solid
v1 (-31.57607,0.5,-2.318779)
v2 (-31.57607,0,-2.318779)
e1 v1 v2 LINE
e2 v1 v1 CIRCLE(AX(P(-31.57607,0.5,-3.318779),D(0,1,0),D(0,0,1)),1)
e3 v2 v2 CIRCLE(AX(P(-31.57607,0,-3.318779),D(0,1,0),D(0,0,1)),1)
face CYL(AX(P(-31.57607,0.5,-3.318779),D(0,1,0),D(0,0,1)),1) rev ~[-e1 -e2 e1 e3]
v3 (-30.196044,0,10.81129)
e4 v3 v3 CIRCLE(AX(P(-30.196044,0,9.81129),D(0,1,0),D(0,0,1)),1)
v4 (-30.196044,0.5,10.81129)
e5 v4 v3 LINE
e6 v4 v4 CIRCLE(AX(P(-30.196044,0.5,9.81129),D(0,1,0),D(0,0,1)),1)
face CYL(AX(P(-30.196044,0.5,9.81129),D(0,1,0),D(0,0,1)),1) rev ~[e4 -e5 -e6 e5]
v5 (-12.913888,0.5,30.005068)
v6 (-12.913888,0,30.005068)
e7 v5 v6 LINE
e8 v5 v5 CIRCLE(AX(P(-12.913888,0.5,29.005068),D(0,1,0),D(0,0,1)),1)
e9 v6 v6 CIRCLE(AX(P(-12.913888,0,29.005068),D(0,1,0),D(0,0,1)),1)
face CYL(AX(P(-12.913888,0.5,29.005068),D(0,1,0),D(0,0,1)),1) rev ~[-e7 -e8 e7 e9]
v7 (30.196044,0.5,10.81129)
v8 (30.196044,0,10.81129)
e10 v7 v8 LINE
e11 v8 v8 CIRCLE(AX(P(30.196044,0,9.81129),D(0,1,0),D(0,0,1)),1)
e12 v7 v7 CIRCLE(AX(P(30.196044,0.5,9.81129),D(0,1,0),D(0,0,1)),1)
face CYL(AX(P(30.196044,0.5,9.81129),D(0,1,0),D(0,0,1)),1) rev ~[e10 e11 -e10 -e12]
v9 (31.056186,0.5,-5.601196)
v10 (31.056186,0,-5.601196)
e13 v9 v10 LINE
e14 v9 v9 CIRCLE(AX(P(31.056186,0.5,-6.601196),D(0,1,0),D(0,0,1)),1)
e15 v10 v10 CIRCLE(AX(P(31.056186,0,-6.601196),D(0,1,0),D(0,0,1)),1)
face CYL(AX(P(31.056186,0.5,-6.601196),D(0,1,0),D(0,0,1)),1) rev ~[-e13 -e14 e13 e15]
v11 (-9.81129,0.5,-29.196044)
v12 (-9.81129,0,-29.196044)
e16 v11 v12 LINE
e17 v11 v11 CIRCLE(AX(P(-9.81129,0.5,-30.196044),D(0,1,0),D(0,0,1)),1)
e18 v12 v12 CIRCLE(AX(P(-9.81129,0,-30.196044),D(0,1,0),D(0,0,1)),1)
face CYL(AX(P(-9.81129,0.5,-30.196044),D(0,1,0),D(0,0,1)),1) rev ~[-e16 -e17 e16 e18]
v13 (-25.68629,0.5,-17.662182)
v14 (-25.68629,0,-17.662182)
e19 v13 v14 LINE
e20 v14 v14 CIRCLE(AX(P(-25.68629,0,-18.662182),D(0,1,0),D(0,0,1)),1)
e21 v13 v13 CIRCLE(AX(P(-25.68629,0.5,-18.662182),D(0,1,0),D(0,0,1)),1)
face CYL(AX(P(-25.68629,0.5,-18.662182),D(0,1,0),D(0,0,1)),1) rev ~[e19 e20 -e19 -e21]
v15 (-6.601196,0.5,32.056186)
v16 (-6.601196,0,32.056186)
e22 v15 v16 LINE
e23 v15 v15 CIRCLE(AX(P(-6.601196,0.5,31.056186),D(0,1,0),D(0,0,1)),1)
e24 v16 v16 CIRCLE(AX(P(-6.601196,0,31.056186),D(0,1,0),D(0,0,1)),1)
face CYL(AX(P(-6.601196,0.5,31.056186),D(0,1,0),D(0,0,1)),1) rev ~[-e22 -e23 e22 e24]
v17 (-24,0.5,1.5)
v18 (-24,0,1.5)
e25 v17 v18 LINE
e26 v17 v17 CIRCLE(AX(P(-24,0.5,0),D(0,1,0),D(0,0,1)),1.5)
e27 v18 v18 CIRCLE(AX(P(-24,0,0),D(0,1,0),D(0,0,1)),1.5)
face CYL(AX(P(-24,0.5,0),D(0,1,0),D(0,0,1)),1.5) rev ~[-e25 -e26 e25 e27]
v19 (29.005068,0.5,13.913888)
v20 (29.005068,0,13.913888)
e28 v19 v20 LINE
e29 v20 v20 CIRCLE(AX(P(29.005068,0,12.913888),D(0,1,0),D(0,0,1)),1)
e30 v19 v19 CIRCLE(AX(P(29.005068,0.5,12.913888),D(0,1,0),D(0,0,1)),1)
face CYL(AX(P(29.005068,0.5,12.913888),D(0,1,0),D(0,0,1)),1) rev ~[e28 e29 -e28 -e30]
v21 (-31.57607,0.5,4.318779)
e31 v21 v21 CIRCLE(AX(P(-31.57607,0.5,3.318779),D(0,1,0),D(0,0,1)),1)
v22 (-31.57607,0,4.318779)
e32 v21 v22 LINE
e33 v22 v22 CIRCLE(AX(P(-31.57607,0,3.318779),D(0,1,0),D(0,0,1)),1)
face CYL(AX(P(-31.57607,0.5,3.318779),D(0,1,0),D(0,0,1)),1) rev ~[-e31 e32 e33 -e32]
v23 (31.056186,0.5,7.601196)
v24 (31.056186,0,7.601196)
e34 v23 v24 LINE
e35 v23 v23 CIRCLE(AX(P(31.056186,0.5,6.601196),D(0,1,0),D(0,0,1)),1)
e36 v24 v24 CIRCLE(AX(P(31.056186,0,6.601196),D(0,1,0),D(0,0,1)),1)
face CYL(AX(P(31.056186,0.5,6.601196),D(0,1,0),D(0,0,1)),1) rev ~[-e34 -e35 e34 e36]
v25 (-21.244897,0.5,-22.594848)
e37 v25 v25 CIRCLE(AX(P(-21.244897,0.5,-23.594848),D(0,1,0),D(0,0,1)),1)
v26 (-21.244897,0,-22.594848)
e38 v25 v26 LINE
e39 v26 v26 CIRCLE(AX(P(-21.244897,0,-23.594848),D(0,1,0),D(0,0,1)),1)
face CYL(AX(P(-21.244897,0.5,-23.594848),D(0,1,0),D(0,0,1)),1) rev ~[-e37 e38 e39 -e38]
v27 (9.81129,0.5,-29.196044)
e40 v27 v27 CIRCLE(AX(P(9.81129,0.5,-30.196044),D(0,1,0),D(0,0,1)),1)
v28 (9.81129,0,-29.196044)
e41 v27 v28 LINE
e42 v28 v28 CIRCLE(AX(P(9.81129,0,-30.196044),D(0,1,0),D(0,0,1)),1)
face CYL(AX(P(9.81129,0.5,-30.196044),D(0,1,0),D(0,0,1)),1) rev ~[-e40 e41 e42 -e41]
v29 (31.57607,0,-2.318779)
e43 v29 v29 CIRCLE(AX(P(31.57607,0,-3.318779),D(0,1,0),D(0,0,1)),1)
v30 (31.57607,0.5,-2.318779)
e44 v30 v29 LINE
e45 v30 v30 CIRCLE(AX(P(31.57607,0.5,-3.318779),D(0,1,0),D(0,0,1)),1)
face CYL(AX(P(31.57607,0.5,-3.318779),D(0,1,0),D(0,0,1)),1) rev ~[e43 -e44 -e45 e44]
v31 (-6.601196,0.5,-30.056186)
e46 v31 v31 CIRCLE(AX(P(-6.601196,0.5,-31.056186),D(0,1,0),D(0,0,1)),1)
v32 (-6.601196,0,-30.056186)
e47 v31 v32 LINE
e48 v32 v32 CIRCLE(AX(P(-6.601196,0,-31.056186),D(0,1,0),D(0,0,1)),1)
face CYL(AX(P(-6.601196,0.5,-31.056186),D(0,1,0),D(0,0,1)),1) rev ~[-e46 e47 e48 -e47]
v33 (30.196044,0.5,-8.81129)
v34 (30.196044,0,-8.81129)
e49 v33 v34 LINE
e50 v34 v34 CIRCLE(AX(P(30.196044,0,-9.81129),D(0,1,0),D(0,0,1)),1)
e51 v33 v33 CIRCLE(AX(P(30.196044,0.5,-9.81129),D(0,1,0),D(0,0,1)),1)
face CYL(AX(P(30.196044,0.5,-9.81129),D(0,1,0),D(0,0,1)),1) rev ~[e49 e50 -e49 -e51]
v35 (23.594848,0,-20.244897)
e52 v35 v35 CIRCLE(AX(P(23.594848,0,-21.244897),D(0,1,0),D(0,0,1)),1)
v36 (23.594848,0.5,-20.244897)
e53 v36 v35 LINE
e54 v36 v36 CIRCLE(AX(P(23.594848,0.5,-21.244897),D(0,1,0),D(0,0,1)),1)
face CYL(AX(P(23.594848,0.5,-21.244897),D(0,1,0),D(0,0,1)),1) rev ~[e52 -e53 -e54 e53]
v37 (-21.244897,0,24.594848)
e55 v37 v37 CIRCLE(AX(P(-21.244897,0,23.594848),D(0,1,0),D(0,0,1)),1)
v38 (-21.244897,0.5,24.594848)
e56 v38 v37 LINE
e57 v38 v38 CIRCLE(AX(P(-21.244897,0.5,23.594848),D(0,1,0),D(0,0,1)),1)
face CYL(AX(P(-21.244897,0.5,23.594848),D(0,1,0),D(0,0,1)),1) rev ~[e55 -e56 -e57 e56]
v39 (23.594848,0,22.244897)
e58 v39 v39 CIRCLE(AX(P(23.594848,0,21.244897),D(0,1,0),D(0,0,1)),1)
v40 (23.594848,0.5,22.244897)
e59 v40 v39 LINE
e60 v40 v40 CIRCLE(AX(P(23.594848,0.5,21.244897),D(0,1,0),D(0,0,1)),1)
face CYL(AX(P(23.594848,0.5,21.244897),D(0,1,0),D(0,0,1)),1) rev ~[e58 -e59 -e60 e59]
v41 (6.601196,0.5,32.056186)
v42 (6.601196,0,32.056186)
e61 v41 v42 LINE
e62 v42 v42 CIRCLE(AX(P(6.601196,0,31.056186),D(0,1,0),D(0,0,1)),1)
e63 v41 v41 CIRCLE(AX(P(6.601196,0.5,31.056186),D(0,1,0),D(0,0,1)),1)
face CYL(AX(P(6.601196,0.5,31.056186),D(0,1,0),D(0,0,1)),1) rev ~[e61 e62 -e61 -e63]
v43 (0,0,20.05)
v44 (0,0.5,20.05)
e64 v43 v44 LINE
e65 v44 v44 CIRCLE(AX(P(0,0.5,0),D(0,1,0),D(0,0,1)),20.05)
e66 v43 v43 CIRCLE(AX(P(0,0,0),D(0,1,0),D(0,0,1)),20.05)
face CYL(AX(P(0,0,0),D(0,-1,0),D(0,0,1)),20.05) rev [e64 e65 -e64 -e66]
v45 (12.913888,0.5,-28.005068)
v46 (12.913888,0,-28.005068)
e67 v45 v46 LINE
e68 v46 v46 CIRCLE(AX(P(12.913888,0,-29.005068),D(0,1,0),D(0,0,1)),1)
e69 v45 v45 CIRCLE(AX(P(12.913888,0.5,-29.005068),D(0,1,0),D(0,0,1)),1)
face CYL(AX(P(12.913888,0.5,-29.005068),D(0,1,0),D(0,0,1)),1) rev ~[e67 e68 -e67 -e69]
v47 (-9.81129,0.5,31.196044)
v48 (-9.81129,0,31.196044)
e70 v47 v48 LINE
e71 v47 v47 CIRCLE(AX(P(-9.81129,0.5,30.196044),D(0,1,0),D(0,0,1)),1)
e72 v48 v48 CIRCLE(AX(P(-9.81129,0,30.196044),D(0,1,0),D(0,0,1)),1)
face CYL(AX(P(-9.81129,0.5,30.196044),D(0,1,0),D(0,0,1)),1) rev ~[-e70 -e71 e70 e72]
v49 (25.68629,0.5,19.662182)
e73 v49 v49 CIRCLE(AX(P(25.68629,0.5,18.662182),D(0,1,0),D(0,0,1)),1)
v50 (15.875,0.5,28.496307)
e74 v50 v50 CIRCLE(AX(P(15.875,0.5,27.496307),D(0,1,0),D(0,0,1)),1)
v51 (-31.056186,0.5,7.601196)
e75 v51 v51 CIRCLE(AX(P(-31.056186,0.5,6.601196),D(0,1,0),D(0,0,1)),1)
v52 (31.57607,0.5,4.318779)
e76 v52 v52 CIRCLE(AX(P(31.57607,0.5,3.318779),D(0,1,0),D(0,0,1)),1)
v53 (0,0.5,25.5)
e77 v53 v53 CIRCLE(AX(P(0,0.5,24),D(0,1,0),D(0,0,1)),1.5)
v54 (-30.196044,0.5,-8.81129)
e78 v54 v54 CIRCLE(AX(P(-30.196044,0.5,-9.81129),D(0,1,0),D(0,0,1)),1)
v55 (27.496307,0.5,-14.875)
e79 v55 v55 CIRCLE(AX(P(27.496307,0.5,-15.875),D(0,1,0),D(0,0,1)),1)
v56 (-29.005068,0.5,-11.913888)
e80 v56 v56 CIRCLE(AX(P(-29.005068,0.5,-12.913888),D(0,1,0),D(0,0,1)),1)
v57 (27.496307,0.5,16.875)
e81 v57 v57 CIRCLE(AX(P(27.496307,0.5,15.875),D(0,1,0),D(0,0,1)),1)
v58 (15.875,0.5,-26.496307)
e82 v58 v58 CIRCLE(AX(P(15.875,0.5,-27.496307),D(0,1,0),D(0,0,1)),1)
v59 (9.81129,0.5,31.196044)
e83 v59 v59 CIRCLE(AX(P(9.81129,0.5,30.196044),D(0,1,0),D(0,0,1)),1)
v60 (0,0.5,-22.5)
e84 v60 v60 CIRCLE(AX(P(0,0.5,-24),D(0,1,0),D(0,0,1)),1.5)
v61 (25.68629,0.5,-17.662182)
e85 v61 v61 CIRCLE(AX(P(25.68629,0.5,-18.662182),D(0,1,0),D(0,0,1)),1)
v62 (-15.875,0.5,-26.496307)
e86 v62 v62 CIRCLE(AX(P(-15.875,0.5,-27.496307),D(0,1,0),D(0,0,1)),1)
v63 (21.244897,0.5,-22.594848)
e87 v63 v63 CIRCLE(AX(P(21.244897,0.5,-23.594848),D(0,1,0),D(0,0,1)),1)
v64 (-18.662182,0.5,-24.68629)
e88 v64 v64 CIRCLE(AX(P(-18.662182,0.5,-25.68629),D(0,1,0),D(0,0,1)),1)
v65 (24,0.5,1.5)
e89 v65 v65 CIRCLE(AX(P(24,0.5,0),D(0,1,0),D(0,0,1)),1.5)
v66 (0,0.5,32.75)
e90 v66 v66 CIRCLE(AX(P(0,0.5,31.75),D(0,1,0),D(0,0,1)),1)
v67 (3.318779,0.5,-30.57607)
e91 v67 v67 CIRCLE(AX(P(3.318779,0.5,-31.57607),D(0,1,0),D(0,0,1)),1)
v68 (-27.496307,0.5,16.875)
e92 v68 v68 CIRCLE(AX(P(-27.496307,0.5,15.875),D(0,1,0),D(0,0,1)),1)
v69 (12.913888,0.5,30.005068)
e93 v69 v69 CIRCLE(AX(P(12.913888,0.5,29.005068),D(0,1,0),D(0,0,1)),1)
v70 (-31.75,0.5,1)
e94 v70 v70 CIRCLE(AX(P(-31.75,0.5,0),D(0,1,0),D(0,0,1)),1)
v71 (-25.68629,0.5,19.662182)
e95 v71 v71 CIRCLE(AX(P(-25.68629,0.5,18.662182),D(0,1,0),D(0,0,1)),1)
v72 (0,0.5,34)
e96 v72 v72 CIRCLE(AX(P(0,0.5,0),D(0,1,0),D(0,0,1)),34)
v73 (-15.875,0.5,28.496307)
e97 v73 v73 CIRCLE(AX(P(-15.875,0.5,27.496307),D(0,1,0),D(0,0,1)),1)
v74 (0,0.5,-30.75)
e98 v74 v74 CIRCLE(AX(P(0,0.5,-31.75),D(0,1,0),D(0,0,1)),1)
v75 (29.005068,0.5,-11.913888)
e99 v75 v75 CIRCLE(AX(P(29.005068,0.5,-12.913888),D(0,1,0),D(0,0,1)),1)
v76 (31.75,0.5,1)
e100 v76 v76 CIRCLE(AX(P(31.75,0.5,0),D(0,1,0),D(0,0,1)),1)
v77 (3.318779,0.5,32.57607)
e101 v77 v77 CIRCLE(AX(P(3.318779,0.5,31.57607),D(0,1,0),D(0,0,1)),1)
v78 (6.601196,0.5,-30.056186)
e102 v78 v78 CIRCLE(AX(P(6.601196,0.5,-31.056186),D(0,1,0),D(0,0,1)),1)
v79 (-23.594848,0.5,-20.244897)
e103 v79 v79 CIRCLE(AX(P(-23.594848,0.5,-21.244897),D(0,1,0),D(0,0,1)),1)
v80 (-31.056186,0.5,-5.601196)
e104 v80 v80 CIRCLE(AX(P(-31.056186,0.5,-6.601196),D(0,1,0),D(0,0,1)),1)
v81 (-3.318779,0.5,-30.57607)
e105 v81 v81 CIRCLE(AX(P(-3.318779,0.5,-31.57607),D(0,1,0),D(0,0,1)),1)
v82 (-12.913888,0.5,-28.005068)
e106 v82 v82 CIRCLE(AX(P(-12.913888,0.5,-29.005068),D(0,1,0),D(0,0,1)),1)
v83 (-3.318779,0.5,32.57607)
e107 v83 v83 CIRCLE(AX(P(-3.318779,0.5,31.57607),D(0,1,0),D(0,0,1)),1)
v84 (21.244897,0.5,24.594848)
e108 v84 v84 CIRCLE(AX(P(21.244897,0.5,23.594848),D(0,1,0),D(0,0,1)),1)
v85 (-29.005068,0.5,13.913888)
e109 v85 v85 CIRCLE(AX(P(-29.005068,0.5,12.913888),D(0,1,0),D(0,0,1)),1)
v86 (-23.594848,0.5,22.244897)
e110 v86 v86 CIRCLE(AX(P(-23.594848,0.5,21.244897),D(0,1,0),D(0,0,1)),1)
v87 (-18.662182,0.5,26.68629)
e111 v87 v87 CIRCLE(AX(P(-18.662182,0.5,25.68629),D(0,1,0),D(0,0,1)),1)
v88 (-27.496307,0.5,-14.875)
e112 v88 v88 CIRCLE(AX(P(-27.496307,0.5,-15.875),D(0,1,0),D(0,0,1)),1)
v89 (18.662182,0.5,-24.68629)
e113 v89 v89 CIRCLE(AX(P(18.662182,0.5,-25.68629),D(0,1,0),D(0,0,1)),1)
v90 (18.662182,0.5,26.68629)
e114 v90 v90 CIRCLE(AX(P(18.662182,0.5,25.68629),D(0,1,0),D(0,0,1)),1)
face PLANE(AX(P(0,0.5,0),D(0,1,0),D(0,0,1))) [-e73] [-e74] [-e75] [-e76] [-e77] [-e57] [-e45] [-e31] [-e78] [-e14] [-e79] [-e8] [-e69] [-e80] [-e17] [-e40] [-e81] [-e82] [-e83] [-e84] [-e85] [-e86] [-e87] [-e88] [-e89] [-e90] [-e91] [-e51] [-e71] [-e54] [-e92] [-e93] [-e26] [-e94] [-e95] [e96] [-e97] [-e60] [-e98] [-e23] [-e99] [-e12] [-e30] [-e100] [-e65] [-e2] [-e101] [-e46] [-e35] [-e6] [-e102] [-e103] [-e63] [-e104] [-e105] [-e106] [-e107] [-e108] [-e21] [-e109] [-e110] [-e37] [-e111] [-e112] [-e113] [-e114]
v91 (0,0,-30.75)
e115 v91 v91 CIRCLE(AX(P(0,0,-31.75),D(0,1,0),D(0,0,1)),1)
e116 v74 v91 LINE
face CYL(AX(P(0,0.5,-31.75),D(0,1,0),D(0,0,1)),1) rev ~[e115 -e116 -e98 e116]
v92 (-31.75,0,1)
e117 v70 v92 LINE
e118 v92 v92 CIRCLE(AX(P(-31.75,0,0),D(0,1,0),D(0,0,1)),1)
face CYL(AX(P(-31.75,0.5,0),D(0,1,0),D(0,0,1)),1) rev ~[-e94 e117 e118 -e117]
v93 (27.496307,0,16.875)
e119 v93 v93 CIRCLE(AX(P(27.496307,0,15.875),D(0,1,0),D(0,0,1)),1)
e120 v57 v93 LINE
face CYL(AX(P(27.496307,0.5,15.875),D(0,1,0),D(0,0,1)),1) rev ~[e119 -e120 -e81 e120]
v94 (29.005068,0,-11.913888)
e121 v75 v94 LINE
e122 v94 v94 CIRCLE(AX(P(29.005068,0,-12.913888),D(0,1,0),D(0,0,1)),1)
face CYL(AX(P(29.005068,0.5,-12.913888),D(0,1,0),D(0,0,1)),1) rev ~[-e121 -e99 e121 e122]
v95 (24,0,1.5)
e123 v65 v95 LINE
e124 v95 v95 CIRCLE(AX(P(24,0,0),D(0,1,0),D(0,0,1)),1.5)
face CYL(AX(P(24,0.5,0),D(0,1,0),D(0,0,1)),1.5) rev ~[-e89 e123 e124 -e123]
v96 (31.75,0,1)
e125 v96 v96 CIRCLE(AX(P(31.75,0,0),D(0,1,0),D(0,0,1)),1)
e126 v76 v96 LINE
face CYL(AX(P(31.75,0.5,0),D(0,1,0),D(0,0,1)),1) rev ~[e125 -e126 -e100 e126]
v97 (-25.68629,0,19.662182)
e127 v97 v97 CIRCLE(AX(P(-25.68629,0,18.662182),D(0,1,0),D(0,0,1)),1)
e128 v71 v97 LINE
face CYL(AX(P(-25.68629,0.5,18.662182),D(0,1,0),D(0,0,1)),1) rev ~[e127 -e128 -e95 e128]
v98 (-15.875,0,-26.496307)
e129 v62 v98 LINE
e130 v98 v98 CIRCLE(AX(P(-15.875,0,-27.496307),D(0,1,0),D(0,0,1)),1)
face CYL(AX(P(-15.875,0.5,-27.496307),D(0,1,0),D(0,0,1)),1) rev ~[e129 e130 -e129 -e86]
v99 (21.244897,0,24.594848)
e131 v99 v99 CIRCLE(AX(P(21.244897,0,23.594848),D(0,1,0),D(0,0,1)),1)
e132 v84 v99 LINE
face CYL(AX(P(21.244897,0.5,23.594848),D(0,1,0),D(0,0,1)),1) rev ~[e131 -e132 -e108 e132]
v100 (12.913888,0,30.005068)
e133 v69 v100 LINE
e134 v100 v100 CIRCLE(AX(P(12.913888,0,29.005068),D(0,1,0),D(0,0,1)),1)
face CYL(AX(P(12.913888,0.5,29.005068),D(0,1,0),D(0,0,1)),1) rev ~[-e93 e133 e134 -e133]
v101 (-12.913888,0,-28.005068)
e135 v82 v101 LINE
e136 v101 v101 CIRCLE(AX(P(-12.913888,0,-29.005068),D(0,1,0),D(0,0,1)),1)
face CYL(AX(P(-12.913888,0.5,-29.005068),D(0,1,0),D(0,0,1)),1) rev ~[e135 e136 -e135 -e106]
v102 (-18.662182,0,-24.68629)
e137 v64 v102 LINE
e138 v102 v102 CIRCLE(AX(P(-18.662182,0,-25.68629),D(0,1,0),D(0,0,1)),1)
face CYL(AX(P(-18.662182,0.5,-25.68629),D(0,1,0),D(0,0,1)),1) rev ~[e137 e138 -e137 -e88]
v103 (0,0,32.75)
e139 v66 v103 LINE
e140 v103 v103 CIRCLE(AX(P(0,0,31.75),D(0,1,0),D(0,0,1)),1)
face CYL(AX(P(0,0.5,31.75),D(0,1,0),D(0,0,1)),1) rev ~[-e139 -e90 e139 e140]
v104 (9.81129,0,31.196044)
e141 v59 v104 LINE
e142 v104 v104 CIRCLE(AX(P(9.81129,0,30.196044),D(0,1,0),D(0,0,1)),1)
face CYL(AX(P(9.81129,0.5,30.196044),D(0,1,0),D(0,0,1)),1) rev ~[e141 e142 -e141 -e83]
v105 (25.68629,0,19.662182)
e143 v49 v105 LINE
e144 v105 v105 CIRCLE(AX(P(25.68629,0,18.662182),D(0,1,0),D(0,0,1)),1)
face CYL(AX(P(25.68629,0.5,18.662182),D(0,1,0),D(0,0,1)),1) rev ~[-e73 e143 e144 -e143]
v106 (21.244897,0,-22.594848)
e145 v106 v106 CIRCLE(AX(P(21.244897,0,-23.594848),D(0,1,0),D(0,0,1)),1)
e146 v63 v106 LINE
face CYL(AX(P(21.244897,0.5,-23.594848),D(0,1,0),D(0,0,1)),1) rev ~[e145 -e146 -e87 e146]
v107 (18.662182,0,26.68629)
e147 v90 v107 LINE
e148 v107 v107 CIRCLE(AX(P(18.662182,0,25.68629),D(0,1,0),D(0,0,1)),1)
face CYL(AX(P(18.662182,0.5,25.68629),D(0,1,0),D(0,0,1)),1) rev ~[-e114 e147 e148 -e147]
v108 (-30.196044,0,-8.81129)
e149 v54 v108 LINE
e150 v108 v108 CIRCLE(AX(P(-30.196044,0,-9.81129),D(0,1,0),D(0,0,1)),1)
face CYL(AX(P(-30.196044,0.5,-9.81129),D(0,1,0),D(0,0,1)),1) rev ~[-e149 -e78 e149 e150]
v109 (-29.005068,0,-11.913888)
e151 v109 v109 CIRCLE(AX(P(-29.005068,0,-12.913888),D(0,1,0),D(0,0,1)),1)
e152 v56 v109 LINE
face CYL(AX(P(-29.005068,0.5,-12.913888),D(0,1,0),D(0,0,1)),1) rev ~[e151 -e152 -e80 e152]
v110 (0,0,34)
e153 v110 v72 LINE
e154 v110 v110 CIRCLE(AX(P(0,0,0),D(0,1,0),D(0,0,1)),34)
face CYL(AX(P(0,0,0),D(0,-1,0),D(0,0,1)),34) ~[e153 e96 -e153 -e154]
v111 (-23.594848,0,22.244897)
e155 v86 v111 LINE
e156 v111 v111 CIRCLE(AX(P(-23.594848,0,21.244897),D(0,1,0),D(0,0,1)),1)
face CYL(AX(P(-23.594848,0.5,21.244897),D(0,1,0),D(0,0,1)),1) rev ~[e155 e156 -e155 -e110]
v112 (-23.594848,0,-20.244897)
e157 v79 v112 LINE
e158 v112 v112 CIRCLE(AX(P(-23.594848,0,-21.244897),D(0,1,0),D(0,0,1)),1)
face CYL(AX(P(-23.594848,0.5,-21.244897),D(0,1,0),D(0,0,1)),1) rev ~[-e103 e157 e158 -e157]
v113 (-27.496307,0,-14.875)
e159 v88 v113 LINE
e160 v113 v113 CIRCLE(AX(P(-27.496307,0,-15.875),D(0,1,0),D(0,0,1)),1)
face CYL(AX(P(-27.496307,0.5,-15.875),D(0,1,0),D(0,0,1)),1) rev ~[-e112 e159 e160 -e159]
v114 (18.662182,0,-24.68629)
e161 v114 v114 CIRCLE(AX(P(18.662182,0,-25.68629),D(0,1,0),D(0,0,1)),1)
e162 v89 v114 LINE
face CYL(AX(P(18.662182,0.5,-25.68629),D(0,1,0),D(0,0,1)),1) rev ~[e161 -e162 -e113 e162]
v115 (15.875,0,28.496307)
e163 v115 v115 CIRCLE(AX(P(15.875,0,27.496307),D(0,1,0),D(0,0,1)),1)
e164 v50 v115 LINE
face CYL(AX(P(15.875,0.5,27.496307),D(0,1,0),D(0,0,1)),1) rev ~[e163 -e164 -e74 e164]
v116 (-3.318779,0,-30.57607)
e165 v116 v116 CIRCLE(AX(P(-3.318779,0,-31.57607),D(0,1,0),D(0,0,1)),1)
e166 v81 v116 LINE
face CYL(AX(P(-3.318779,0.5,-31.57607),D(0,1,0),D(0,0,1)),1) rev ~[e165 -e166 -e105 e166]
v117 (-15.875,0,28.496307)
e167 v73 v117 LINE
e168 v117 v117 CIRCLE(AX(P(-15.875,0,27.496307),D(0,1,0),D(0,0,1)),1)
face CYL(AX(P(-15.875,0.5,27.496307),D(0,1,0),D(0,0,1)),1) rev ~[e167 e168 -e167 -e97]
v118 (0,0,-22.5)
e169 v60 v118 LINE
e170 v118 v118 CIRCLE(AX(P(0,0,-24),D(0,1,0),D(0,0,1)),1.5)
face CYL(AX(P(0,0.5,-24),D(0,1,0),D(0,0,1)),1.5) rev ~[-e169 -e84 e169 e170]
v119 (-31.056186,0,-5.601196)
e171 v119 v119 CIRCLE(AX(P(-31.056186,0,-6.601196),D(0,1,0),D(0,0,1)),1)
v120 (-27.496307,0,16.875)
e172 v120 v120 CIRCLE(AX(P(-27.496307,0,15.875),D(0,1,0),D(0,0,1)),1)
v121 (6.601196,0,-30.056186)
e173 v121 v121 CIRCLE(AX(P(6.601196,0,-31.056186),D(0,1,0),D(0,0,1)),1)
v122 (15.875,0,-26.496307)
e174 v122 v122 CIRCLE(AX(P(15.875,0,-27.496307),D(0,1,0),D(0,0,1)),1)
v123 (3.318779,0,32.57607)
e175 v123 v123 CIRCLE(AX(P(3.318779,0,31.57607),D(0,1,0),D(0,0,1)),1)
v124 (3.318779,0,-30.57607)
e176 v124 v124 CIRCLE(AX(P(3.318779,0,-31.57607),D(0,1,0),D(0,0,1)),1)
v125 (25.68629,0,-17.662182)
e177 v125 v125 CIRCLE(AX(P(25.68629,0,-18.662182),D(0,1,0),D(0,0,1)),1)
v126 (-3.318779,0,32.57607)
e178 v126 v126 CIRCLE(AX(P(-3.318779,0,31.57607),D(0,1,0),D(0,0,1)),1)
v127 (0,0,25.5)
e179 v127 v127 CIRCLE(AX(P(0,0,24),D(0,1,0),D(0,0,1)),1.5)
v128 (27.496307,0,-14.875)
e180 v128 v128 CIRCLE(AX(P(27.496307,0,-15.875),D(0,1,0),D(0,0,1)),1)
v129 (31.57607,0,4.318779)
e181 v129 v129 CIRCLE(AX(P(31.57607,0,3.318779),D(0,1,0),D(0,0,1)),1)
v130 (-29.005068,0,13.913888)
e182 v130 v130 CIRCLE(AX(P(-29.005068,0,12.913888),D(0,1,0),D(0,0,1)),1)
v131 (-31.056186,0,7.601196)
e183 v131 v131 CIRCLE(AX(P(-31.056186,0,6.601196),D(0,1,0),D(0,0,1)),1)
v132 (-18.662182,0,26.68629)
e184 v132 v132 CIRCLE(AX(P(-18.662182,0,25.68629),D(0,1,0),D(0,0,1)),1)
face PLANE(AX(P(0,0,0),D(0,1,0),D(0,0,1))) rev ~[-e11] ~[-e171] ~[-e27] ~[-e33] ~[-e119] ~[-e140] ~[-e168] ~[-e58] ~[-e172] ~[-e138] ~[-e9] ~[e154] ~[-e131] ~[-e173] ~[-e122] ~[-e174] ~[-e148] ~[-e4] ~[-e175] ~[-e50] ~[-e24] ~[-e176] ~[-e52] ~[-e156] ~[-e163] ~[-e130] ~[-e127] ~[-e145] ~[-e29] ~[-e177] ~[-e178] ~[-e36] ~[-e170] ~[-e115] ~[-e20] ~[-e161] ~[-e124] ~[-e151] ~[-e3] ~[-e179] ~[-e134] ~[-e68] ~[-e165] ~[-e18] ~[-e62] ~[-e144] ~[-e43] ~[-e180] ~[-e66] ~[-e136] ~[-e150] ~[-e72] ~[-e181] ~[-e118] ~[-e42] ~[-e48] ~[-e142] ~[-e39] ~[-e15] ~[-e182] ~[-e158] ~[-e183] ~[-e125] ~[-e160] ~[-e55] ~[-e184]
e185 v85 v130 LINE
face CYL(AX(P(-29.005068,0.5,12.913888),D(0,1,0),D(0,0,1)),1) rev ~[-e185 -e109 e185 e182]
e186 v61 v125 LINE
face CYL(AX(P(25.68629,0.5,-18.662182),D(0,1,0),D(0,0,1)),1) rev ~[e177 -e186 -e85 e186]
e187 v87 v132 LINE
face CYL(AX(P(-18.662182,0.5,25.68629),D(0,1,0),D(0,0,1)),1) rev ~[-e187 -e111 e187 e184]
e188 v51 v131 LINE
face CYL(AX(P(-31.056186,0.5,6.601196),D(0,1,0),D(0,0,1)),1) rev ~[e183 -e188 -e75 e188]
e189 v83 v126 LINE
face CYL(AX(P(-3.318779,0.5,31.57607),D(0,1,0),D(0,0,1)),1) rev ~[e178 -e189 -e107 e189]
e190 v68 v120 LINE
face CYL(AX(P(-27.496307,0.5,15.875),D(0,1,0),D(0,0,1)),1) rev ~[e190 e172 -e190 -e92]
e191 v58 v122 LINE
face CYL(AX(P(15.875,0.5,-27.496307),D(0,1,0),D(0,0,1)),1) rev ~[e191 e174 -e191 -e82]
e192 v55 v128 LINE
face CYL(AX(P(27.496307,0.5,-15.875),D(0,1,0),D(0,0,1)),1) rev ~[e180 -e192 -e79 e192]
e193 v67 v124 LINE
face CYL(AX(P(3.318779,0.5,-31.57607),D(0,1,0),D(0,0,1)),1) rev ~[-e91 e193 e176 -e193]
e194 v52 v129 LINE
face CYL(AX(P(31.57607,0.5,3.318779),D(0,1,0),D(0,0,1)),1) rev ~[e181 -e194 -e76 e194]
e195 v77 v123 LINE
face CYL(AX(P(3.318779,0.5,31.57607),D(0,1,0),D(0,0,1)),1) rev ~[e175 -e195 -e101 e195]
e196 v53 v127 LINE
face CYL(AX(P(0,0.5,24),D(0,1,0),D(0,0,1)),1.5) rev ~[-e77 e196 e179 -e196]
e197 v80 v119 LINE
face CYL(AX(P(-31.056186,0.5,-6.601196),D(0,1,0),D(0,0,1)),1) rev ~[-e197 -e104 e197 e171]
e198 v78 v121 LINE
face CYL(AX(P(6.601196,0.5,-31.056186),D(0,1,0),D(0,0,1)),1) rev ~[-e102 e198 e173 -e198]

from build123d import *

# Parameters (mm, degrees)
SKETCH1_R           = 34
SKETCH1_R_2         = 20.05
BOSS_EXTRUDE1_DEPTH = 0.5
SKETCH2_R           = 1
CUT_EXTRUDE1_DEPTH  = 49.085860708
SKETCH3_R           = 1.5
CUT_EXTRUDE2_DEPTH  = 10


with BuildPart() as part:
    # Sketch1 → Boss-Extrude1 (new body)
    with BuildSketch(Plane(origin=(0, 0, 0), x_dir=(1, 0, 0), z_dir=(0, 1, 0))):
        with Locations(Location((0, 0, 0), (0, 0, 270))):
            Circle(SKETCH1_R)
        with Locations(Location((0, 0, 0), (0, 0, 270))):
            Circle(SKETCH1_R_2, mode=Mode.SUBTRACT)
    extrude(amount=BOSS_EXTRUDE1_DEPTH)

    # Sketch2 → Cut-Extrude1 (cut, through all)
    with BuildSketch(Plane(origin=(0, 0.5, 0), x_dir=(1, 0, 0), z_dir=(0, 1, 0))):
        with Locations(Location((0, 31.75, 0), (0, 0, 270))):
            Circle(SKETCH2_R)
        with Locations(Location((3.318778709, 31.576070178, 0), (0, 0, 270))):
            Circle(SKETCH2_R)
        with Locations(Location((6.601196183, 31.056186323, 0), (0, 0, 270))):
            Circle(SKETCH2_R)
        with Locations(Location((9.811289571, 30.196044392, 0), (0, 0, 270))):
            Circle(SKETCH2_R)
        with Locations(Location((12.913888418, 29.00506828, 0), (0, 0, 270))):
            Circle(SKETCH2_R)
        with Locations(Location((15.875, 27.49630657, 0), (0, 0, 270))):
            Circle(SKETCH2_R)
        with Locations(Location((18.66218176, 25.686289571, 0), (0, 0, 270))):
            Circle(SKETCH2_R)
        with Locations(Location((21.244896752, 23.594848209, 0), (0, 0, 270))):
            Circle(SKETCH2_R)
        with Locations(Location((23.594848209, 21.244896752, 0), (0, 0, 270))):
            Circle(SKETCH2_R)
        with Locations(Location((25.686289571, 18.66218176, 0), (0, 0, 270))):
            Circle(SKETCH2_R)
        with Locations(Location((27.49630657, 15.875, 0), (0, 0, 270))):
            Circle(SKETCH2_R)
        with Locations(Location((29.00506828, 12.913888418, 0), (0, 0, 270))):
            Circle(SKETCH2_R)
        with Locations(Location((30.196044392, 9.811289571, 0), (0, 0, 270))):
            Circle(SKETCH2_R)
        with Locations(Location((31.056186323, 6.601196183, 0), (0, 0, 270))):
            Circle(SKETCH2_R)
        with Locations(Location((31.576070178, 3.318778709, 0), (0, 0, 270))):
            Circle(SKETCH2_R)
        with Locations(Location((31.75, 0, 0), (0, 0, 270))):
            Circle(SKETCH2_R)
        with Locations(Location((31.576070178, -3.318778709, 0), (0, 0, 270))):
            Circle(SKETCH2_R)
        with Locations(Location((31.056186323, -6.601196183, 0), (0, 0, 270))):
            Circle(SKETCH2_R)
        with Locations(Location((30.196044392, -9.811289571, 0), (0, 0, 270))):
            Circle(SKETCH2_R)
        with Locations(Location((29.00506828, -12.913888418, 0), (0, 0, 270))):
            Circle(SKETCH2_R)
        with Locations(Location((27.49630657, -15.875, 0), (0, 0, 270))):
            Circle(SKETCH2_R)
        with Locations(Location((25.686289571, -18.66218176, 0), (0, 0, 270))):
            Circle(SKETCH2_R)
        with Locations(Location((23.594848209, -21.244896752, 0), (0, 0, 270))):
            Circle(SKETCH2_R)
        with Locations(Location((21.244896752, -23.594848209, 0), (0, 0, 270))):
            Circle(SKETCH2_R)
        with Locations(Location((18.66218176, -25.686289571, 0), (0, 0, 270))):
            Circle(SKETCH2_R)
        with Locations(Location((15.875, -27.49630657, 0), (0, 0, 270))):
            Circle(SKETCH2_R)
        with Locations(Location((12.913888418, -29.00506828, 0), (0, 0, 270))):
            Circle(SKETCH2_R)
        with Locations(Location((9.811289571, -30.196044392, 0), (0, 0, 270))):
            Circle(SKETCH2_R)
        with Locations(Location((6.601196183, -31.056186323, 0), (0, 0, 270))):
            Circle(SKETCH2_R)
        with Locations(Location((3.318778709, -31.576070178, 0), (0, 0, 270))):
            Circle(SKETCH2_R)
        with Locations(Location((0, -31.75, 0), (0, 0, 270))):
            Circle(SKETCH2_R)
        with Locations(Location((-3.318778709, -31.576070178, 0), (0, 0, 270))):
            Circle(SKETCH2_R)
        with Locations(Location((-6.601196183, -31.056186323, 0), (0, 0, 270))):
            Circle(SKETCH2_R)
        with Locations(Location((-9.811289571, -30.196044392, 0), (0, 0, 270))):
            Circle(SKETCH2_R)
        with Locations(Location((-12.913888418, -29.00506828, 0), (0, 0, 270))):
            Circle(SKETCH2_R)
        with Locations(Location((-15.875, -27.49630657, 0), (0, 0, 270))):
            Circle(SKETCH2_R)
        with Locations(Location((-18.66218176, -25.686289571, 0), (0, 0, 270))):
            Circle(SKETCH2_R)
        with Locations(Location((-21.244896752, -23.594848209, 0), (0, 0, 270))):
            Circle(SKETCH2_R)
        with Locations(Location((-23.594848209, -21.244896752, 0), (0, 0, 270))):
            Circle(SKETCH2_R)
        with Locations(Location((-25.686289571, -18.66218176, 0), (0, 0, 270))):
            Circle(SKETCH2_R)
        with Locations(Location((-27.49630657, -15.875, 0), (0, 0, 270))):
            Circle(SKETCH2_R)
        with Locations(Location((-29.00506828, -12.913888418, 0), (0, 0, 270))):
            Circle(SKETCH2_R)
        with Locations(Location((-30.196044392, -9.811289571, 0), (0, 0, 270))):
            Circle(SKETCH2_R)
        with Locations(Location((-31.056186323, -6.601196183, 0), (0, 0, 270))):
            Circle(SKETCH2_R)
        with Locations(Location((-31.576070178, -3.318778709, 0), (0, 0, 270))):
            Circle(SKETCH2_R)
        with Locations(Location((-31.75, 0, 0), (0, 0, 270))):
            Circle(SKETCH2_R)
        with Locations(Location((-31.576070178, 3.318778709, 0), (0, 0, 270))):
            Circle(SKETCH2_R)
        with Locations(Location((-31.056186323, 6.601196183, 0), (0, 0, 270))):
            Circle(SKETCH2_R)
        with Locations(Location((-30.196044392, 9.811289571, 0), (0, 0, 270))):
            Circle(SKETCH2_R)
        with Locations(Location((-29.00506828, 12.913888418, 0), (0, 0, 270))):
            Circle(SKETCH2_R)
        with Locations(Location((-27.49630657, 15.875, 0), (0, 0, 270))):
            Circle(SKETCH2_R)
        with Locations(Location((-25.686289571, 18.66218176, 0), (0, 0, 270))):
            Circle(SKETCH2_R)
        with Locations(Location((-23.594848209, 21.244896752, 0), (0, 0, 270))):
            Circle(SKETCH2_R)
        with Locations(Location((-21.244896752, 23.594848209, 0), (0, 0, 270))):
            Circle(SKETCH2_R)
        with Locations(Location((-18.66218176, 25.686289571, 0), (0, 0, 270))):
            Circle(SKETCH2_R)
        with Locations(Location((-15.875, 27.49630657, 0), (0, 0, 270))):
            Circle(SKETCH2_R)
        with Locations(Location((-12.913888418, 29.00506828, 0), (0, 0, 270))):
            Circle(SKETCH2_R)
        with Locations(Location((-9.811289571, 30.196044392, 0), (0, 0, 270))):
            Circle(SKETCH2_R)
        with Locations(Location((-6.601196183, 31.056186323, 0), (0, 0, 270))):
            Circle(SKETCH2_R)
        with Locations(Location((-3.318778709, 31.576070178, 0), (0, 0, 270))):
            Circle(SKETCH2_R)
    extrude(amount=-CUT_EXTRUDE1_DEPTH, mode=Mode.SUBTRACT)

    # Sketch3 → Cut-Extrude2 (cut)
    with BuildSketch(Plane(origin=(0, 0.5, 0), x_dir=(1, 0, 0), z_dir=(0, 1, 0))):
        with Locations(Location((0, 24, 0), (0, 0, 270))):
            Circle(SKETCH3_R)
        with Locations(Location((24, 0, 0), (0, 0, 270))):
            Circle(SKETCH3_R)
        with Locations(Location((0, -24, 0), (0, 0, 270))):
            Circle(SKETCH3_R)
        with Locations(Location((-24, 0, 0), (0, 0, 270))):
            Circle(SKETCH3_R)
    extrude(amount=-CUT_EXTRUDE2_DEPTH, mode=Mode.SUBTRACT)


solid = part.part
